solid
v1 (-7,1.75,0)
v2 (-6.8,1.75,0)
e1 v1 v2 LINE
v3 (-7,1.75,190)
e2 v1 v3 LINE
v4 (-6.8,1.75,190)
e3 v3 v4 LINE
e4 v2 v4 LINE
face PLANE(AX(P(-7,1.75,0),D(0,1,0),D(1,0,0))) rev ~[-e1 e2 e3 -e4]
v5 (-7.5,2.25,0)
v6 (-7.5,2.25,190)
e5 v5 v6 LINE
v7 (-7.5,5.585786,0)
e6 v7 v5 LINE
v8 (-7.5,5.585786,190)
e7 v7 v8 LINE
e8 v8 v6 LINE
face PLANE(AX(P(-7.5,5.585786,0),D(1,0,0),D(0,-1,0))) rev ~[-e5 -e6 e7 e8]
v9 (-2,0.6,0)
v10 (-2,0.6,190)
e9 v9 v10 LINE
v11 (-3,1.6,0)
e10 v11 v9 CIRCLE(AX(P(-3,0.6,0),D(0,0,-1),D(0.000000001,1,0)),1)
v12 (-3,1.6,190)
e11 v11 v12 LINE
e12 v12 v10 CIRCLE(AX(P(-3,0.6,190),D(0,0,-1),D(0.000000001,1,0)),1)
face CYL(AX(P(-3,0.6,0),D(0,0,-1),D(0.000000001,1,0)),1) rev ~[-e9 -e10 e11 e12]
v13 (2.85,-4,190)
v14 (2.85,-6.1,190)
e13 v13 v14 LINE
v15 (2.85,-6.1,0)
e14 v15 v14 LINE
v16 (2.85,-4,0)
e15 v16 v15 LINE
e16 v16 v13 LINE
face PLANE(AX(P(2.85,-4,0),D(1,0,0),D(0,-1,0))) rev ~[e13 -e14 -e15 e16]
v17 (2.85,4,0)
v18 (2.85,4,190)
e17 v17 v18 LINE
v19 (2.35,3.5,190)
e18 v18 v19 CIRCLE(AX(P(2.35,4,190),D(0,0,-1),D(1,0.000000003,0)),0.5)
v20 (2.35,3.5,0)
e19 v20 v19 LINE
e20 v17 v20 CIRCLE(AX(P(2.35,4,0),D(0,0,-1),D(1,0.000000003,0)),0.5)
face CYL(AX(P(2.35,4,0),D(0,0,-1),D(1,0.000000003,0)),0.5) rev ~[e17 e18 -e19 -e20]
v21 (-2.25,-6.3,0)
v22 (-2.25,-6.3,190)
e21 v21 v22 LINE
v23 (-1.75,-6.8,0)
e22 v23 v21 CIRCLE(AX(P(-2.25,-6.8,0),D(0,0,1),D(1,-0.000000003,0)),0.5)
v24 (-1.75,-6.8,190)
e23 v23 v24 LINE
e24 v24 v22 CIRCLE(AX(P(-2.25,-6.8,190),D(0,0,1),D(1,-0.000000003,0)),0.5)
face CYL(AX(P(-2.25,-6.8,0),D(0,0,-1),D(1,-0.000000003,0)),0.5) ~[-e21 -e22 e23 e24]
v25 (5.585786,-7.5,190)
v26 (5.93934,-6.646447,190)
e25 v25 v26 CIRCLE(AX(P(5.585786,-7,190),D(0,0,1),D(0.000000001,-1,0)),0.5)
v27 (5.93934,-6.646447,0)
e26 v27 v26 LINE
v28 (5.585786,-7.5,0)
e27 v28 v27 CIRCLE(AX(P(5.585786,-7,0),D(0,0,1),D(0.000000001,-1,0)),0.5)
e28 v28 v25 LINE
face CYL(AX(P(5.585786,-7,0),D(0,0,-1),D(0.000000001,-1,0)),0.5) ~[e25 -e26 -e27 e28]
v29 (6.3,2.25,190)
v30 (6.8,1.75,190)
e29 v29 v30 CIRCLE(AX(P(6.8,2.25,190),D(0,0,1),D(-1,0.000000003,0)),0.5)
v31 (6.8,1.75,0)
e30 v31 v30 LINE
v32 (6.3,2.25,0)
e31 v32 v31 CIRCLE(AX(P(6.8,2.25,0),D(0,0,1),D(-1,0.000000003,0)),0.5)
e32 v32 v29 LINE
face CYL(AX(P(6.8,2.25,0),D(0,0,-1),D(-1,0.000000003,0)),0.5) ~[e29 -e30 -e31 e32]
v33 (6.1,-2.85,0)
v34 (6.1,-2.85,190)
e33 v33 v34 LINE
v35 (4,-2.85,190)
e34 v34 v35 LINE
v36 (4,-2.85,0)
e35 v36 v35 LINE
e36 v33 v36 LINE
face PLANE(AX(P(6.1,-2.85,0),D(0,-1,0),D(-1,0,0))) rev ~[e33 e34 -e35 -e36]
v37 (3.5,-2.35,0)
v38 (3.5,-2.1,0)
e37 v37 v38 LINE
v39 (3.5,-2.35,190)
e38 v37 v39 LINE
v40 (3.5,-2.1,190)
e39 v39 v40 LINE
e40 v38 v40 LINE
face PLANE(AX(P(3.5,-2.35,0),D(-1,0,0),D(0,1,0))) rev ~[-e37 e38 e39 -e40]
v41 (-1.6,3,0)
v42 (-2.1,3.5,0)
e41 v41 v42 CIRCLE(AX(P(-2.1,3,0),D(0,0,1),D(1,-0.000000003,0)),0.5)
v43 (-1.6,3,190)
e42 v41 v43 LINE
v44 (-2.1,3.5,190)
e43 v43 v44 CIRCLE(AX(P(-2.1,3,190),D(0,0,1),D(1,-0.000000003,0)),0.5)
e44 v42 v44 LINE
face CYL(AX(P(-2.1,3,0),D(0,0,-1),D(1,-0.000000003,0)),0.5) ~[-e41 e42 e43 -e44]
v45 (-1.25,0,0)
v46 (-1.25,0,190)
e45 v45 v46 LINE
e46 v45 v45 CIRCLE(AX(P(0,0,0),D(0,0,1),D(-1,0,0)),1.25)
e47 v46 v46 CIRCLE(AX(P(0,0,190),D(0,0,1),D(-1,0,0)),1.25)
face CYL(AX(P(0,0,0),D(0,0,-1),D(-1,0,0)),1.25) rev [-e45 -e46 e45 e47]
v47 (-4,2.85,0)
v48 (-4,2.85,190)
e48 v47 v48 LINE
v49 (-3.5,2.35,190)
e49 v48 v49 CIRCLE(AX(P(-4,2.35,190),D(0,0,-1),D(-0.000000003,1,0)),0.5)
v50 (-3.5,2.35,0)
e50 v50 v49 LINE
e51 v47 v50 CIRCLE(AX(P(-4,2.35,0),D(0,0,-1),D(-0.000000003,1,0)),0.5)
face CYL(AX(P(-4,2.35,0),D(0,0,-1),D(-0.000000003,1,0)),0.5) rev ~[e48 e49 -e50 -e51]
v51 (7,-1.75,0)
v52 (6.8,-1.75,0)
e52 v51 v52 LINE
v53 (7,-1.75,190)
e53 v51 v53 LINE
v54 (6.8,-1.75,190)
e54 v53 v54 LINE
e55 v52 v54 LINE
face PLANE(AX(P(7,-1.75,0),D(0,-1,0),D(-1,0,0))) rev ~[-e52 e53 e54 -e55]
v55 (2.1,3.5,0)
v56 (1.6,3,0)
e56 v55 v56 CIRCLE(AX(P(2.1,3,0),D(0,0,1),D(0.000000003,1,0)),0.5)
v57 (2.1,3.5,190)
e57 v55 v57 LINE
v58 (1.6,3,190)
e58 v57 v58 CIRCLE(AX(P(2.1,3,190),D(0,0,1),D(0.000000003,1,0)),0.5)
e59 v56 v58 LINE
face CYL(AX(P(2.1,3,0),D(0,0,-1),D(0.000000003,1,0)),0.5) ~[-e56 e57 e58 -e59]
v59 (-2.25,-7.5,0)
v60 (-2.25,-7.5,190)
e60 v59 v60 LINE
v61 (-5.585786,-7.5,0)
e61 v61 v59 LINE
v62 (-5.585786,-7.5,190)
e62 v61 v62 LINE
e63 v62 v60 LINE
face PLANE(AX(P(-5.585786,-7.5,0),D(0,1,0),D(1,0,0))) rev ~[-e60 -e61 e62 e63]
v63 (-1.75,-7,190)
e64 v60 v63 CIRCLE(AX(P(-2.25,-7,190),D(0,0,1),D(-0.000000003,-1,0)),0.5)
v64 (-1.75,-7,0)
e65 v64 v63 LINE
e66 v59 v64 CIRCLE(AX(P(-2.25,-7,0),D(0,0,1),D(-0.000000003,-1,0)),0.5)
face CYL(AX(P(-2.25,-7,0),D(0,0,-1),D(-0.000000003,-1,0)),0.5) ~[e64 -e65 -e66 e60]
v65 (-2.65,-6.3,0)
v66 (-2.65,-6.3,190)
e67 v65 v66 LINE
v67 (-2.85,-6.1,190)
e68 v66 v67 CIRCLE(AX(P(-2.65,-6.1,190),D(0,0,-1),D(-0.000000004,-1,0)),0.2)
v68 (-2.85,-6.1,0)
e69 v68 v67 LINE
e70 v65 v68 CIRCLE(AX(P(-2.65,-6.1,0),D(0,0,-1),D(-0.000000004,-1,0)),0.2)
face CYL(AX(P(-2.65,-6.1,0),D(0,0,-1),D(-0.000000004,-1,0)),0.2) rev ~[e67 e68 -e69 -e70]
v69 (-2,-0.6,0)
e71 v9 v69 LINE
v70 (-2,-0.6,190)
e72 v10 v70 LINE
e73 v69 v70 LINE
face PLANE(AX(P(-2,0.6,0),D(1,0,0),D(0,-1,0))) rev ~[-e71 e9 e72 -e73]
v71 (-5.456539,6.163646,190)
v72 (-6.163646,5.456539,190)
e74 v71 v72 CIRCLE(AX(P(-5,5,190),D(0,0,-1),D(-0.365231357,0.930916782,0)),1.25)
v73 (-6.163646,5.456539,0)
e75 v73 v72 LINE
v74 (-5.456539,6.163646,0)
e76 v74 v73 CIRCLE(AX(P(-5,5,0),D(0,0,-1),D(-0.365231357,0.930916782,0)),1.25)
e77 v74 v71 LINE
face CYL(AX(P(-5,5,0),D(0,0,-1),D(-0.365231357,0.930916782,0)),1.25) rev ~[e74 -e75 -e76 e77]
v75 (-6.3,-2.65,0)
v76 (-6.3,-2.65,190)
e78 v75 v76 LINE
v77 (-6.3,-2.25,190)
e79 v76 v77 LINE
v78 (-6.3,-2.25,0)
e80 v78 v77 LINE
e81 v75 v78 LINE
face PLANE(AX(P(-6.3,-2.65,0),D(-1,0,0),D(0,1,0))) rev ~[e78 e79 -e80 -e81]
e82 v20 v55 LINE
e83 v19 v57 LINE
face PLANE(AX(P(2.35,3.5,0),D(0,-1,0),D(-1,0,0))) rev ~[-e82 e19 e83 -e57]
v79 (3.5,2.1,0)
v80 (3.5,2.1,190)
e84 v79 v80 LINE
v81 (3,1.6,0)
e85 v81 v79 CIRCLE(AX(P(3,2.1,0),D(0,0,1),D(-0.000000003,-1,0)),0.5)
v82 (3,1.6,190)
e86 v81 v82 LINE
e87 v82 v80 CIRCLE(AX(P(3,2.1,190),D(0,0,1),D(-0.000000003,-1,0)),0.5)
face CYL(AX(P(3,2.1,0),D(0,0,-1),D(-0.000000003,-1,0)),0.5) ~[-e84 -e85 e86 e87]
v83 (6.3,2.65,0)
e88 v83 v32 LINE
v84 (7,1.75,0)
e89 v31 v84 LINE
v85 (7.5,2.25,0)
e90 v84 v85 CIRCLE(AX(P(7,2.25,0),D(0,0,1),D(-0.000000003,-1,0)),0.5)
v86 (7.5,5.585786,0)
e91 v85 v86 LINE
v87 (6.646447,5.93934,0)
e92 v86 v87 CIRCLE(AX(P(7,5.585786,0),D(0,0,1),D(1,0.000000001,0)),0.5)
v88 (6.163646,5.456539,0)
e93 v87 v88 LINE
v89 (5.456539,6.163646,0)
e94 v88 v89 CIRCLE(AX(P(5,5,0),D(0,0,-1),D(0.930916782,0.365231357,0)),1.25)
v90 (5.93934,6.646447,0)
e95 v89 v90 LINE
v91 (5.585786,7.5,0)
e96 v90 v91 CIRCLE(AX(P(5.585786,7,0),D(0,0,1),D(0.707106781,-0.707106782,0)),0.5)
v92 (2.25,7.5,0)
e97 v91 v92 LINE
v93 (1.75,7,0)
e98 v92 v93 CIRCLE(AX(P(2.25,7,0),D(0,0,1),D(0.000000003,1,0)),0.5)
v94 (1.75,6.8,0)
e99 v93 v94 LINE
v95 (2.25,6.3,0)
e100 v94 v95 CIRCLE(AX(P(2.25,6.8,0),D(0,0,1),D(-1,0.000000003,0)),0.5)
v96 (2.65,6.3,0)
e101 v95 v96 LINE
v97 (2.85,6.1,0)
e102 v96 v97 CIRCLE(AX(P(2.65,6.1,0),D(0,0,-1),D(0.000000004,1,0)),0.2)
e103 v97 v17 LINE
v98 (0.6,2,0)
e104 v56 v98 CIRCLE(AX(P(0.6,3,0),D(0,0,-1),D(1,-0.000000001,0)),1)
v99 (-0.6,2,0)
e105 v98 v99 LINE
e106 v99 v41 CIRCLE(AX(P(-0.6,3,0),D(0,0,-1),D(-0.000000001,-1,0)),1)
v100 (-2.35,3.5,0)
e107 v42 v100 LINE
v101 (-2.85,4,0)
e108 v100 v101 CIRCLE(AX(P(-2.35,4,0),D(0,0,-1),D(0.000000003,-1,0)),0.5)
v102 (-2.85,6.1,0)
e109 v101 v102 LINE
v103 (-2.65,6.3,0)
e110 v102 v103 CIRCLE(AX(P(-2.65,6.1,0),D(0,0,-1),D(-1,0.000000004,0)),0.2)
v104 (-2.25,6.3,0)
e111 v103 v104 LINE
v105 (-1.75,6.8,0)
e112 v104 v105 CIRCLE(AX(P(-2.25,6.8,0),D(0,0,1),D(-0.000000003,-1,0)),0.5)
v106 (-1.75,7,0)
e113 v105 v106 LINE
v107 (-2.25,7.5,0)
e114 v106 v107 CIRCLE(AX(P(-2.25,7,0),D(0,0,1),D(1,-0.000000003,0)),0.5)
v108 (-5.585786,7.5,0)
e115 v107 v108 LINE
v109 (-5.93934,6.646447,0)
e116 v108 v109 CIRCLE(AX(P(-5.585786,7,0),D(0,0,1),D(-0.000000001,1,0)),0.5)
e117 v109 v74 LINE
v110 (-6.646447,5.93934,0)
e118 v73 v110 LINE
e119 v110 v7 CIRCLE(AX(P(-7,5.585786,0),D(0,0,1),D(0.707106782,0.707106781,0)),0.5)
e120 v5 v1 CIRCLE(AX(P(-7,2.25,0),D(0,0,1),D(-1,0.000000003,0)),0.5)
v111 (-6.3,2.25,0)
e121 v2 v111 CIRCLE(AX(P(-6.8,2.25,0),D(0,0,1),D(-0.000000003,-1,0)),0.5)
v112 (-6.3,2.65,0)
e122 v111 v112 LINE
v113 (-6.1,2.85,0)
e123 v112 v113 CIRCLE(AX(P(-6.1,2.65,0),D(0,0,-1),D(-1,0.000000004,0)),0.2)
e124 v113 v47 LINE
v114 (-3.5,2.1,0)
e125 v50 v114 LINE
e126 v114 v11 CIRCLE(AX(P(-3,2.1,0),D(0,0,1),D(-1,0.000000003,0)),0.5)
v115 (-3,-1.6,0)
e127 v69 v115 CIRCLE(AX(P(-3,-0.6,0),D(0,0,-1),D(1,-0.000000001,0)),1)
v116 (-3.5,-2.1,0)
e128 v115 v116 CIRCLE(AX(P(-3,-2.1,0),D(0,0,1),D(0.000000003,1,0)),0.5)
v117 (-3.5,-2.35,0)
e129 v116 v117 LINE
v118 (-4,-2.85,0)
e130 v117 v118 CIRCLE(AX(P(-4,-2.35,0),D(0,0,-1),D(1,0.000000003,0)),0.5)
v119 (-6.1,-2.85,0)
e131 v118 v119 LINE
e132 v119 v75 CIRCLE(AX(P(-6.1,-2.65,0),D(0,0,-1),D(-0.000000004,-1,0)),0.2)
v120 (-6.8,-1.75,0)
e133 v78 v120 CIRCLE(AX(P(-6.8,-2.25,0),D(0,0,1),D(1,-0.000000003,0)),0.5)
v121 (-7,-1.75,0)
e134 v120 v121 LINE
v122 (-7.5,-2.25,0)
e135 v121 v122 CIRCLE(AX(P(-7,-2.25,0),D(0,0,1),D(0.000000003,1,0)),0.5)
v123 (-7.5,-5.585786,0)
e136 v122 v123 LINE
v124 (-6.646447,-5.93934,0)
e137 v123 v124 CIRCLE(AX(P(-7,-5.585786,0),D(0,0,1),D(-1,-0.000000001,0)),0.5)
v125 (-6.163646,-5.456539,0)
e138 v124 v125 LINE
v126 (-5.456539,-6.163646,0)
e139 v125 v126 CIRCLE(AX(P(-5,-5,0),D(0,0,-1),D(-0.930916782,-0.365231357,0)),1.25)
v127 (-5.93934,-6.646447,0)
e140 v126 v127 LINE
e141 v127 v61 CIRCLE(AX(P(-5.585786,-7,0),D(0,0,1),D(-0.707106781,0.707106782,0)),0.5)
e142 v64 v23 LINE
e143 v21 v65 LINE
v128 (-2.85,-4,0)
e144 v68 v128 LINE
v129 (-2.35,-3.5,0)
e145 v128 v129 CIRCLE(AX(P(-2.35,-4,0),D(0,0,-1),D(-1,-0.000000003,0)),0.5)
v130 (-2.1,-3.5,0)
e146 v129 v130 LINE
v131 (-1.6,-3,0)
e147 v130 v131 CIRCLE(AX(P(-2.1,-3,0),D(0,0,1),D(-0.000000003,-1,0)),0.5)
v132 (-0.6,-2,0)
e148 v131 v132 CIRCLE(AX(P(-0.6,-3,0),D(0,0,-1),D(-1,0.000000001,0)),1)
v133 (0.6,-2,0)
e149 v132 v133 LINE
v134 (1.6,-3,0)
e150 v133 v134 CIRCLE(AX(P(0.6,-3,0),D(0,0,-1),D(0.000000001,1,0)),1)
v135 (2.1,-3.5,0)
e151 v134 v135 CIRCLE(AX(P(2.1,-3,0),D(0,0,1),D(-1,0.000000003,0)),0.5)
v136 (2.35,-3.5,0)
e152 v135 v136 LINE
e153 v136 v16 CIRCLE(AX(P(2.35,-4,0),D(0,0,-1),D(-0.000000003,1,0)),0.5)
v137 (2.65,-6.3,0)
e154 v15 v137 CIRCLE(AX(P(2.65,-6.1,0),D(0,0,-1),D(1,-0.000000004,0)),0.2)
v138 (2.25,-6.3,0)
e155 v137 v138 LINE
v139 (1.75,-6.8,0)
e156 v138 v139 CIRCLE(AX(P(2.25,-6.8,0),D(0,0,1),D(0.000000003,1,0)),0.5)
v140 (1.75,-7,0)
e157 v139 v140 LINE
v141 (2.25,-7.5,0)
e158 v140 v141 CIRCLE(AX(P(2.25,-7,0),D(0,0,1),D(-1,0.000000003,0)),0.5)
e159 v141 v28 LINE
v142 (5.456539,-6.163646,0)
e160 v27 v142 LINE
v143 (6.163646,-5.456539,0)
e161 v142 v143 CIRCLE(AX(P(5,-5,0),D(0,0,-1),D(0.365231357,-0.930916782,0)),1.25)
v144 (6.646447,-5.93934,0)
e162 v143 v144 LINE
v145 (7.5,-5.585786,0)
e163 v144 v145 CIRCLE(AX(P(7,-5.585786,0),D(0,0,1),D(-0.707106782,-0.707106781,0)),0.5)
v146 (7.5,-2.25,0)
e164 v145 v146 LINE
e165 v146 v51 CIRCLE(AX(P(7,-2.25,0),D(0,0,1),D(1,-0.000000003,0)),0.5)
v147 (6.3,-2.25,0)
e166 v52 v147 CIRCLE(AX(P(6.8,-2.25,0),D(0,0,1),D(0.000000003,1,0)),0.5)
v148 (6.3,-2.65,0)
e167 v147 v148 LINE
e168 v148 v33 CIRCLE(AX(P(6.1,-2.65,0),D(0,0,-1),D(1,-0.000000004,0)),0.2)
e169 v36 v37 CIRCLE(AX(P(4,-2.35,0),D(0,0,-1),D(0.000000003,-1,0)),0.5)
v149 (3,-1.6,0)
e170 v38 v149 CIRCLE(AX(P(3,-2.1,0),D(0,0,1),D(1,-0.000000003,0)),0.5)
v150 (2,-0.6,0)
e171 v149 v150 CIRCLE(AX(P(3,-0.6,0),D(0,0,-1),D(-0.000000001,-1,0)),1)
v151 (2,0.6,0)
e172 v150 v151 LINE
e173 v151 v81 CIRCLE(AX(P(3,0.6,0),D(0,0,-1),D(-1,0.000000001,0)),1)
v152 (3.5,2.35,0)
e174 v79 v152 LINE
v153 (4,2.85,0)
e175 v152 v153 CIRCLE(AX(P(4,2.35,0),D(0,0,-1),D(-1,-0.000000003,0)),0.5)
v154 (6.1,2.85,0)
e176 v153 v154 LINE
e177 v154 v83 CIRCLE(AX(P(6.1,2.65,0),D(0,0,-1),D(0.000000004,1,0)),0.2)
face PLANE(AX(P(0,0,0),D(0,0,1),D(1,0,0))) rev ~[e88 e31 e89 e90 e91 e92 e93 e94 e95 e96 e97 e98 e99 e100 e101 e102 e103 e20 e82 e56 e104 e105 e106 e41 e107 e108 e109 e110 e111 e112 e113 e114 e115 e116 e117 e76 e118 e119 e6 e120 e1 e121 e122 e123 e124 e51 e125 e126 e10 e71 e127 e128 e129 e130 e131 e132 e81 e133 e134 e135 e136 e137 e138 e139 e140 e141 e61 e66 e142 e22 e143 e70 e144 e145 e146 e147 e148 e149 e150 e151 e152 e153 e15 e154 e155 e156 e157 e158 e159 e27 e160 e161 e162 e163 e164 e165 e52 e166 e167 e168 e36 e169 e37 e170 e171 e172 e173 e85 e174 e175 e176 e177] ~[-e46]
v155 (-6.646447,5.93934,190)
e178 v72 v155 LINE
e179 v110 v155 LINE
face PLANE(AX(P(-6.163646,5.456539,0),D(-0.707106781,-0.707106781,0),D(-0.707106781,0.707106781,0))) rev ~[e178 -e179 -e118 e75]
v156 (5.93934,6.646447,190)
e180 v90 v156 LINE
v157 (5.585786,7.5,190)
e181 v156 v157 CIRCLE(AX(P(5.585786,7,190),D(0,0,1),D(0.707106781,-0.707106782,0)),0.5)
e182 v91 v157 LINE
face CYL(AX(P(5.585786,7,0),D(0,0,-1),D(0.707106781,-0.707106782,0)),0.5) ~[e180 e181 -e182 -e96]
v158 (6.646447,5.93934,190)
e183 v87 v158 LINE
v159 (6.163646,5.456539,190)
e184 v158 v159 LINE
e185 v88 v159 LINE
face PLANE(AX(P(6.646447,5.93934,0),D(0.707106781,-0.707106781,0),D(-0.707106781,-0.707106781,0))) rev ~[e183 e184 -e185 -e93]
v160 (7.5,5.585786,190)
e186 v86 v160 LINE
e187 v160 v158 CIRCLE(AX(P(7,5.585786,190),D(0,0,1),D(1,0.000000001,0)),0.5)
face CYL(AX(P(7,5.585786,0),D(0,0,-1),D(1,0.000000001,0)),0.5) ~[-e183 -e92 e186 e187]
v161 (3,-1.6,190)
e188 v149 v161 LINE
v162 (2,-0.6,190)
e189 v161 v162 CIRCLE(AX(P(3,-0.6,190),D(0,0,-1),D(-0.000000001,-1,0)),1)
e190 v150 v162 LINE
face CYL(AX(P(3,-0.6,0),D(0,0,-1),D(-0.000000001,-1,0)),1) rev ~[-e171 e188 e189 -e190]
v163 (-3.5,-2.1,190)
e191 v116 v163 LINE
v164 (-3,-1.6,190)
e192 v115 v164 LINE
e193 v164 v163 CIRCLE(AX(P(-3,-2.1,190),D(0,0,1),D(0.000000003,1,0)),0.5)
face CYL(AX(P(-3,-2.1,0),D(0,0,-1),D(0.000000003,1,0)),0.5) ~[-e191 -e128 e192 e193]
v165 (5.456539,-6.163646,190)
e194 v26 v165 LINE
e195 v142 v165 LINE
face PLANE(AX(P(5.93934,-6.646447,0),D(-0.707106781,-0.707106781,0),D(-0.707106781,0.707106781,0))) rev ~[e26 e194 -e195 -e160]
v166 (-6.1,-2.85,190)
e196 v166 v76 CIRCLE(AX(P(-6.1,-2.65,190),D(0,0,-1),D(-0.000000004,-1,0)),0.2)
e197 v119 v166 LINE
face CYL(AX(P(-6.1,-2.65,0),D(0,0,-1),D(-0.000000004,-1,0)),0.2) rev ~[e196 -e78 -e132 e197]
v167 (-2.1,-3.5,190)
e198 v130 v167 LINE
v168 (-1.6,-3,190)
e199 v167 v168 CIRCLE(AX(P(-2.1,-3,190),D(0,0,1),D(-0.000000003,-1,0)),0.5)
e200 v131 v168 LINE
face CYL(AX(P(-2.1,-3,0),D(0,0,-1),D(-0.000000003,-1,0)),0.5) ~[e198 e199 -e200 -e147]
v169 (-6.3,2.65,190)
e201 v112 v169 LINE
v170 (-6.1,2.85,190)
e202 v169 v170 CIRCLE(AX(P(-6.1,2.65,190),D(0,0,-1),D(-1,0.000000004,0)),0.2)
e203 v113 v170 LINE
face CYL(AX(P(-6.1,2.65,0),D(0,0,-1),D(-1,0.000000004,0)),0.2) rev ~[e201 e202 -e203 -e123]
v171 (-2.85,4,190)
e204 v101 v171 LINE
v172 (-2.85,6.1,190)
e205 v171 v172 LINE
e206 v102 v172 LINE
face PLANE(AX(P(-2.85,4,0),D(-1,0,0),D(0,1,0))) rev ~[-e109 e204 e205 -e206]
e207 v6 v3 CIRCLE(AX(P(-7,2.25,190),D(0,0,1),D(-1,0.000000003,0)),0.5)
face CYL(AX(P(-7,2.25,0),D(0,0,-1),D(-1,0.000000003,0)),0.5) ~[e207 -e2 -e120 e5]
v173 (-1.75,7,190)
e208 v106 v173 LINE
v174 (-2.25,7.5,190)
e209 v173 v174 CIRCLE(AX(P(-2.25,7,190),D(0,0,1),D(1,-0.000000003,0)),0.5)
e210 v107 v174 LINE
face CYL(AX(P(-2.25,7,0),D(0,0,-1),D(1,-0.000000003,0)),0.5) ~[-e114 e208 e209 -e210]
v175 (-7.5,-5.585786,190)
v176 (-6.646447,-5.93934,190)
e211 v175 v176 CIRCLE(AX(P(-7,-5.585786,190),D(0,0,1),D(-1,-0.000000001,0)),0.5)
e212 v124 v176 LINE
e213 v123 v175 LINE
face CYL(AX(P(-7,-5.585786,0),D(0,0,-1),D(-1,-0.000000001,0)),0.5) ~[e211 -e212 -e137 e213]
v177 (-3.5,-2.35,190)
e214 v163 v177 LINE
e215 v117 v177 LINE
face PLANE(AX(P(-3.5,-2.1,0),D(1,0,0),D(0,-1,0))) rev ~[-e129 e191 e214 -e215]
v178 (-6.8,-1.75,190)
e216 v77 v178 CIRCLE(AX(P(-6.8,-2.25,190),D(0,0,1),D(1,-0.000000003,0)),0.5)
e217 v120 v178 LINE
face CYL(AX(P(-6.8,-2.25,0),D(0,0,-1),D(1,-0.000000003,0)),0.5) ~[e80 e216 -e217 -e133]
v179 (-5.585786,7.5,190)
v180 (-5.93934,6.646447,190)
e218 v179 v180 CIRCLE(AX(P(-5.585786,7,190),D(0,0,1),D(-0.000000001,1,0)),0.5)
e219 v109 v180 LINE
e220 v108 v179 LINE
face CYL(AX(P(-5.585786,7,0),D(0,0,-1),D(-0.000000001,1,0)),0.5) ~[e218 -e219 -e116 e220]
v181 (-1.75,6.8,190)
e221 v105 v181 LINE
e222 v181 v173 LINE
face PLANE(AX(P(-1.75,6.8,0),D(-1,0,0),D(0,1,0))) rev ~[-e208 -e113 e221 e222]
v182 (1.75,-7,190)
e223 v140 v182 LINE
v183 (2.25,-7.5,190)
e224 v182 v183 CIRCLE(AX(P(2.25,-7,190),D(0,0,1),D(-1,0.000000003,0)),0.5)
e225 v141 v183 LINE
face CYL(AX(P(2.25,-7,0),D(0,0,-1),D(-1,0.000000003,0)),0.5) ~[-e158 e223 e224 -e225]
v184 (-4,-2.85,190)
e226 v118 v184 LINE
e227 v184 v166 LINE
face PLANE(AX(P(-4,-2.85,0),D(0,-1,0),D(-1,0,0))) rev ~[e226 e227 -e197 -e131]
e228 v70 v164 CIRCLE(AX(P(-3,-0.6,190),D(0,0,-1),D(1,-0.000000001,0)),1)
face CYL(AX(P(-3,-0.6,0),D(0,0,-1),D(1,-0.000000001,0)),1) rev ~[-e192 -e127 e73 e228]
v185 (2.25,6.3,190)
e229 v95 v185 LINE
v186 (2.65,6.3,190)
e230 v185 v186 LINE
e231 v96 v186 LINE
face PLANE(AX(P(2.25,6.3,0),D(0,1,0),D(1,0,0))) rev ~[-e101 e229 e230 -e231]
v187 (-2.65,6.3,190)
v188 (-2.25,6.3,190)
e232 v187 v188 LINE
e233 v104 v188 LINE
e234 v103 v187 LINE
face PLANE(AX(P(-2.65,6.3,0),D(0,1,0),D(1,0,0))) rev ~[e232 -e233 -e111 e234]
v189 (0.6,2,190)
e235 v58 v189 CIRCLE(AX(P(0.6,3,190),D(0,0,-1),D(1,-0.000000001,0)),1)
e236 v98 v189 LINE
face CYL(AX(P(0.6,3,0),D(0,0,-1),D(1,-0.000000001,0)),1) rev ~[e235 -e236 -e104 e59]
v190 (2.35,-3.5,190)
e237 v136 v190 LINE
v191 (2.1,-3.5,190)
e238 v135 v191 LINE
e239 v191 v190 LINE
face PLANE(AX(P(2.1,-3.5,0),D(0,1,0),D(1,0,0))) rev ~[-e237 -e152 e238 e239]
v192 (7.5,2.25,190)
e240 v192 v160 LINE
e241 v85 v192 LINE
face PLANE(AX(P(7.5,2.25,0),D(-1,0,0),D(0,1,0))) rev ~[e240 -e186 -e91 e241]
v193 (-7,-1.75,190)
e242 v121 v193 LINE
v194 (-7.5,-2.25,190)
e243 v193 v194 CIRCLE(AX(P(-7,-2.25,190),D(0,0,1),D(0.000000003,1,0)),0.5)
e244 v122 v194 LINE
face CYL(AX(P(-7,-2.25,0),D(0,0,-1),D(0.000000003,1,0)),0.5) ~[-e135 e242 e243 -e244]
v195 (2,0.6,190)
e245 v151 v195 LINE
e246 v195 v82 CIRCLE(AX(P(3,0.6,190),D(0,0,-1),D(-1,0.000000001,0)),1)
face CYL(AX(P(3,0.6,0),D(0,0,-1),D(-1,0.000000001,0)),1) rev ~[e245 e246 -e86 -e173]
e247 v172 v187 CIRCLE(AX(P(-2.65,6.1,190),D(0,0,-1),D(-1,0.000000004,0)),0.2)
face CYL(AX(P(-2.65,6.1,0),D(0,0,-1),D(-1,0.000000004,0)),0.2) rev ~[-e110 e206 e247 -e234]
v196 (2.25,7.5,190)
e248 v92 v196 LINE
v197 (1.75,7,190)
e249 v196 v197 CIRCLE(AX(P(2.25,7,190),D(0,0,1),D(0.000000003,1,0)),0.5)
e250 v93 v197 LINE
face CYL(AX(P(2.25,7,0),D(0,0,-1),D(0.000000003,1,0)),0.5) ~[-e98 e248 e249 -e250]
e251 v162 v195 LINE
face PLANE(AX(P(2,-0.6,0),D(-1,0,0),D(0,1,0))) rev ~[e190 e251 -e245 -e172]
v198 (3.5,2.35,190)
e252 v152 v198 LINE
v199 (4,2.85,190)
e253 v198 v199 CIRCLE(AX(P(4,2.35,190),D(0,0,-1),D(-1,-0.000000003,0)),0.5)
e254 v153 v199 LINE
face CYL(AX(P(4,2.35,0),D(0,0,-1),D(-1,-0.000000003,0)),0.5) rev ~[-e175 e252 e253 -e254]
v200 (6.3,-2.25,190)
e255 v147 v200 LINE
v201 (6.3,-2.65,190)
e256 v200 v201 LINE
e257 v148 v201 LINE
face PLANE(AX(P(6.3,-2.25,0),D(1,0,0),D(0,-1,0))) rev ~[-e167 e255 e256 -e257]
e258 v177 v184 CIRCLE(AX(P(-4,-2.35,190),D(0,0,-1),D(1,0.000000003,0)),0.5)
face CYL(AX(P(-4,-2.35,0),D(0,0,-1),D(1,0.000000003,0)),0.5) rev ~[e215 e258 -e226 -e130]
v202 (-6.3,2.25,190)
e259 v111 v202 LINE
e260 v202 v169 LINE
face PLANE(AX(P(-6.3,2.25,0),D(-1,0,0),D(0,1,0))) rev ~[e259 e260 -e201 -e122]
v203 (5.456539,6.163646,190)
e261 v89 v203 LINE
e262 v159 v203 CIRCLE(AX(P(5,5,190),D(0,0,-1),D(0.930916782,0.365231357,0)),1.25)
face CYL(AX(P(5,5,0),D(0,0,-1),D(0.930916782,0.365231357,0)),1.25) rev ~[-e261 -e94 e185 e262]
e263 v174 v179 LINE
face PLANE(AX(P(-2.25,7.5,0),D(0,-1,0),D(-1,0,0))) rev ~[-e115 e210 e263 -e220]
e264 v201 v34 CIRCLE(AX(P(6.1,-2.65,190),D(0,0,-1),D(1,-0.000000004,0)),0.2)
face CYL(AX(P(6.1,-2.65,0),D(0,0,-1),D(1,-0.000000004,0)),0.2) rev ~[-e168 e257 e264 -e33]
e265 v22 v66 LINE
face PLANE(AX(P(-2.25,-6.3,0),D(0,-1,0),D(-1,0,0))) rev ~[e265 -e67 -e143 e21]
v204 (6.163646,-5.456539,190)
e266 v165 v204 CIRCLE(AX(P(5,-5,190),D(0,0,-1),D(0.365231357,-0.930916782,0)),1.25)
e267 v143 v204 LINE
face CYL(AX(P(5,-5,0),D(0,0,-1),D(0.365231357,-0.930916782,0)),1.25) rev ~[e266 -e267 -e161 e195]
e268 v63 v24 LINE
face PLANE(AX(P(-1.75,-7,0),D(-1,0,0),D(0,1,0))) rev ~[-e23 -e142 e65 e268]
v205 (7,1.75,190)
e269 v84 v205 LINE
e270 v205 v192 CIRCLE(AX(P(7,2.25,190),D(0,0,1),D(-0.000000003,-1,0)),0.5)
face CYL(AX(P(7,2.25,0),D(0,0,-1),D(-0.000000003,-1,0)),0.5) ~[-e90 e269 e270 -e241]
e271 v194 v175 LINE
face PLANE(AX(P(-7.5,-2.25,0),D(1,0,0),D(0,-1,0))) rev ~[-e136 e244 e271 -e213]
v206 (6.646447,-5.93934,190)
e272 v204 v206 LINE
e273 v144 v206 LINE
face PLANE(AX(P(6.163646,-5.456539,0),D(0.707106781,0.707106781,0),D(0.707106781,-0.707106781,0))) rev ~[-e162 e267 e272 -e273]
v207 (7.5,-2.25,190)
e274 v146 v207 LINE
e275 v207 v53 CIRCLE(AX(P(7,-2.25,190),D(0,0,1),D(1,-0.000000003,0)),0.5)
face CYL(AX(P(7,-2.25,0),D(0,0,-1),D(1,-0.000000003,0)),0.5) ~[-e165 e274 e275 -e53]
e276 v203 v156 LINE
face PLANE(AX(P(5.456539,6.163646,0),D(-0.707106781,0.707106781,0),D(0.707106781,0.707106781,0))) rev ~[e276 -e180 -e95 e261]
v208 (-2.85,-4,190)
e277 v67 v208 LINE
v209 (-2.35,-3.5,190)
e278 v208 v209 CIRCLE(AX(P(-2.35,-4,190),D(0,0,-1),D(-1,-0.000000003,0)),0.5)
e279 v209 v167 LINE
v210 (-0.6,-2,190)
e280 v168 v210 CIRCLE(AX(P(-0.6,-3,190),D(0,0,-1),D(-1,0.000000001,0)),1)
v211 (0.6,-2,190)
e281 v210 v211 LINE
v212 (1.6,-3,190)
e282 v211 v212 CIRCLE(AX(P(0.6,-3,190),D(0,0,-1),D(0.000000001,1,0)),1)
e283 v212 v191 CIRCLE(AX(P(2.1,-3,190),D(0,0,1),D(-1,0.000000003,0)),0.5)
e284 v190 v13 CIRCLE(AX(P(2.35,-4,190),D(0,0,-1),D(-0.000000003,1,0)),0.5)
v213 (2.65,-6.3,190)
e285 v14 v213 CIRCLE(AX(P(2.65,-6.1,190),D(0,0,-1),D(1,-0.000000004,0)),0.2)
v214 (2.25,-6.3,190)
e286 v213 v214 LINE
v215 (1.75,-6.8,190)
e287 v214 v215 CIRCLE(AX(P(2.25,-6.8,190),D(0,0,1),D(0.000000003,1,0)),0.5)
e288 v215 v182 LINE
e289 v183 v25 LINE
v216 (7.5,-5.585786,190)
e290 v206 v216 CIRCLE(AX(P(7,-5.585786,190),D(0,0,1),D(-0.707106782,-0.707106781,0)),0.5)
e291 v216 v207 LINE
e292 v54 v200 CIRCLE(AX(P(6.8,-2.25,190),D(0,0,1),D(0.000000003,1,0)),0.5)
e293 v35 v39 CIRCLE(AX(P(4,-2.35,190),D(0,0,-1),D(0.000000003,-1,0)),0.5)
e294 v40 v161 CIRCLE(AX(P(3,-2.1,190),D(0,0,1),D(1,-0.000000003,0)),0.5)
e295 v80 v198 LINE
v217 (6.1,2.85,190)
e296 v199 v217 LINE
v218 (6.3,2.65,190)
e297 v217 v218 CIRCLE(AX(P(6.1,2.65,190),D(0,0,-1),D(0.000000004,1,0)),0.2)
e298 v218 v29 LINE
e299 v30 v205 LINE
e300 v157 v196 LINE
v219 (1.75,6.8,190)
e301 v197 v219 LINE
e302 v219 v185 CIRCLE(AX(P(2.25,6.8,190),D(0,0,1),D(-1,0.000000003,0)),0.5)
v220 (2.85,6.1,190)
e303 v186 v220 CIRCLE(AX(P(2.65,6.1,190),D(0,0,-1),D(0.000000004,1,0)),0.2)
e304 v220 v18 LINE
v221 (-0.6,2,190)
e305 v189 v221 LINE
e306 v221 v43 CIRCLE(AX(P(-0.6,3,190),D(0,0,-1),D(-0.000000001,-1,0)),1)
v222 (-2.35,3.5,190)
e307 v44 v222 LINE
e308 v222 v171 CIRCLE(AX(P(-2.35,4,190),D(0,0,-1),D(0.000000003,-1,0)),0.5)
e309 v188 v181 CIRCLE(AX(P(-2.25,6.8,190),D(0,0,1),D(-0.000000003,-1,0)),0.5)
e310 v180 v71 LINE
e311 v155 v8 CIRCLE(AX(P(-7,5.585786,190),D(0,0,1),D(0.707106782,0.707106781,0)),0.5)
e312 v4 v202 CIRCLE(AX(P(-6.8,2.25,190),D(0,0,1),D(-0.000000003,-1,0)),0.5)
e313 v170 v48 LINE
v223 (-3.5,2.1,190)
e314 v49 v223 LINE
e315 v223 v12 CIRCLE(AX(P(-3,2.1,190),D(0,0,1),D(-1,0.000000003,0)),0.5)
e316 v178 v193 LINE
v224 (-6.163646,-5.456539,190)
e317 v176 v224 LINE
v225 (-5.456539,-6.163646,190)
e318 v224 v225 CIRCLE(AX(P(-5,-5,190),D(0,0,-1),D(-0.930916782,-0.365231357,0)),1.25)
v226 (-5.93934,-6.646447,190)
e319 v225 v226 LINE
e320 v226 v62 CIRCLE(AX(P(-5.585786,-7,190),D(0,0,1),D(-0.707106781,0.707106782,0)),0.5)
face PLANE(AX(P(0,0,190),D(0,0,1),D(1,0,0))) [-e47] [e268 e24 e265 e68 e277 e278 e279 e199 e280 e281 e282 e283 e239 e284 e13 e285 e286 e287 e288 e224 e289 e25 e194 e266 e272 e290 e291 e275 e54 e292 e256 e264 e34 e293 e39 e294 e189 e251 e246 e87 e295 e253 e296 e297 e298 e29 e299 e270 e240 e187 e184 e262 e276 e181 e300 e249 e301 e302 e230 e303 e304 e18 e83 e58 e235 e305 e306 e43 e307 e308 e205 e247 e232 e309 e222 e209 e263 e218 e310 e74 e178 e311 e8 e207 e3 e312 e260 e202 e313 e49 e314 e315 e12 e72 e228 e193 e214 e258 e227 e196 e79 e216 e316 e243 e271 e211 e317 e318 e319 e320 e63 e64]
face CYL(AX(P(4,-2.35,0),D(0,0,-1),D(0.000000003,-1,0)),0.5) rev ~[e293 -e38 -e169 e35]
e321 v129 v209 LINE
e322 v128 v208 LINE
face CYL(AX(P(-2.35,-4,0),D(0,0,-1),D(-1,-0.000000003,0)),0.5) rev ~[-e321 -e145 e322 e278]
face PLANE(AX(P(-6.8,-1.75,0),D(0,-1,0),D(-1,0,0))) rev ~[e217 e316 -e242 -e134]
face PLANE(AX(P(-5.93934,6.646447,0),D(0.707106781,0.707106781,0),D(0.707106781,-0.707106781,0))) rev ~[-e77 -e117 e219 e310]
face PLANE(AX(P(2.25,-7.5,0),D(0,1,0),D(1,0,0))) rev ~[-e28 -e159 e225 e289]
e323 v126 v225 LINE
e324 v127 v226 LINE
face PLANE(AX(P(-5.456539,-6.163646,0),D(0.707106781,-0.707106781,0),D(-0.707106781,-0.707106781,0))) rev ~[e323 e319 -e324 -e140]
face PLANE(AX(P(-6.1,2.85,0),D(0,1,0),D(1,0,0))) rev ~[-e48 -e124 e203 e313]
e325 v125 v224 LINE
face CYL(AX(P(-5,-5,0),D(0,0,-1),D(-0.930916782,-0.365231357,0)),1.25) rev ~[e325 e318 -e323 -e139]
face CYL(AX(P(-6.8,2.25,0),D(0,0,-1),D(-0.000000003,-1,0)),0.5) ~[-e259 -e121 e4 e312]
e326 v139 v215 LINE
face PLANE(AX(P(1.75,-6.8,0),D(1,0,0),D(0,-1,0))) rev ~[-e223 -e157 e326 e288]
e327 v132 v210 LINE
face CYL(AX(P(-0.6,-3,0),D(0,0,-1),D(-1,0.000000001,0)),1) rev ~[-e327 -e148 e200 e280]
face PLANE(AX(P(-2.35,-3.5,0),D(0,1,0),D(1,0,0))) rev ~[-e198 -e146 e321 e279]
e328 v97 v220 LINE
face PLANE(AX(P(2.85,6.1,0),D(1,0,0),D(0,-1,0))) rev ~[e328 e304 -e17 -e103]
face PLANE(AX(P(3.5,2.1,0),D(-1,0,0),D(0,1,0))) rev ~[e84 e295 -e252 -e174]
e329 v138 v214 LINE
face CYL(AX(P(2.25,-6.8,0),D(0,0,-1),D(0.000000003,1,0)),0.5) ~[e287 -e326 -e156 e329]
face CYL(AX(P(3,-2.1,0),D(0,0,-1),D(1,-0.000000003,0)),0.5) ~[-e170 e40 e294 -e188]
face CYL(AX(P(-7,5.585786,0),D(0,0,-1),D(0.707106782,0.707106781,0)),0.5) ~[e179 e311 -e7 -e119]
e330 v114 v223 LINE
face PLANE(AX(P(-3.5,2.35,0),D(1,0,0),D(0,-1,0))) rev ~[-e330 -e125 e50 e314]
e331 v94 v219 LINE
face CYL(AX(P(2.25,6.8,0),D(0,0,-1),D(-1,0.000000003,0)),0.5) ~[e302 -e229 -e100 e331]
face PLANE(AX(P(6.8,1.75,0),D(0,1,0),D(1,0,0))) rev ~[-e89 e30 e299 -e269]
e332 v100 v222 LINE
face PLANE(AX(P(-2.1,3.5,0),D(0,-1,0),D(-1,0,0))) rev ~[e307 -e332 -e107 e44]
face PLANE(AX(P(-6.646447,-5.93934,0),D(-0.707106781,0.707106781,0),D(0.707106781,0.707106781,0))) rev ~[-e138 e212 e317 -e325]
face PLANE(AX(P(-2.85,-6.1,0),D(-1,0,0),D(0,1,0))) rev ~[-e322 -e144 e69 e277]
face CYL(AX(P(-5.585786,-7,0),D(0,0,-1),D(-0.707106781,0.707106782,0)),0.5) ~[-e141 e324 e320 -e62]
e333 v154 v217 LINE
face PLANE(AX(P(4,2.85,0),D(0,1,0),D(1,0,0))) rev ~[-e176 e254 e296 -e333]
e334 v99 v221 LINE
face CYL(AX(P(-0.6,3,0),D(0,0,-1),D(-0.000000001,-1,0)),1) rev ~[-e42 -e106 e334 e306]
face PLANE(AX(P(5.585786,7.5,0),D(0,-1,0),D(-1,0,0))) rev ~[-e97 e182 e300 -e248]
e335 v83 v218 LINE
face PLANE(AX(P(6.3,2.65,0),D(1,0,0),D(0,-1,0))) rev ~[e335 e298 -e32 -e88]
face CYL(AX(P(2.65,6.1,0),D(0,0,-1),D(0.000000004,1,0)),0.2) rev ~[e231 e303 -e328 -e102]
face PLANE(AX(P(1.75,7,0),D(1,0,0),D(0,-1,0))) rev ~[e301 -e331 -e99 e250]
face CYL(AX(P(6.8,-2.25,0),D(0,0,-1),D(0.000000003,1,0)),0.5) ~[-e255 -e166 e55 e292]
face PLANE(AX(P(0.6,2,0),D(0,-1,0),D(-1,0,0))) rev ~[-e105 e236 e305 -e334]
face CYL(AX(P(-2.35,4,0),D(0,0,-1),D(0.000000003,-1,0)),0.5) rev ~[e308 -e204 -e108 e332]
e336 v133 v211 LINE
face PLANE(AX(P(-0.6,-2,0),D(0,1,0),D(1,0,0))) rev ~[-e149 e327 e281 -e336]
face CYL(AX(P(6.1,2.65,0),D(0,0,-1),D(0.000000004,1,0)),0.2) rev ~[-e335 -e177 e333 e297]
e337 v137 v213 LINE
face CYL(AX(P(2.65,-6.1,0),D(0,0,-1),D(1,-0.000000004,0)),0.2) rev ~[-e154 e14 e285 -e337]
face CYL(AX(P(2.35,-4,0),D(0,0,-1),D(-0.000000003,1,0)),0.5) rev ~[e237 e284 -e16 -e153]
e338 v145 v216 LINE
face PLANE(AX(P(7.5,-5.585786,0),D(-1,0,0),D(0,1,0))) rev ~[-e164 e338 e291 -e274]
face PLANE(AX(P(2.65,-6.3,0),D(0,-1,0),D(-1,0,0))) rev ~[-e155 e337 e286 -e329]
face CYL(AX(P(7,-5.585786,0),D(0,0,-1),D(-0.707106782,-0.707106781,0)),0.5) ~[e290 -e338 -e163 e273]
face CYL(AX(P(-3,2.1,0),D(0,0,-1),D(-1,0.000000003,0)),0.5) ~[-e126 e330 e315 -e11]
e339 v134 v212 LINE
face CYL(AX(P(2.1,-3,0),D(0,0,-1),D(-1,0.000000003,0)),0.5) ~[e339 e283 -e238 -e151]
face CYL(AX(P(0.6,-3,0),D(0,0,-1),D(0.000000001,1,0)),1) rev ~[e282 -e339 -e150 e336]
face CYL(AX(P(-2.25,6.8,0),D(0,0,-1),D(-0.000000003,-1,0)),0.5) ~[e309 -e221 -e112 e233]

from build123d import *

# Parameters (mm, degrees)
SKETCH1_R           = 1.25
BOSS_EXTRUDE1_DEPTH = 190


with BuildPart() as part:
    # Sketch1 → Boss-Extrude1 (new body)
    with BuildSketch(Plane.XY):
        with BuildLine():
            Line((6.646446609, 5.939339828), (6.163645978, 5.456539197))
            ThreePointArc((6.163645978, 5.456539197), (4.116116524, 4.116116524), (5.456539197, 6.163645978))
            Line((5.456539197, 6.163645978), (5.939339828, 6.646446609))
            ThreePointArc((5.939339828, 6.646446609), (6.047726204, 7.191341716), (5.585786438, 7.5))
            Line((5.585786438, 7.5), (2.25, 7.5))
            ThreePointArc((2.25, 7.5), (1.896446609, 7.353553391), (1.75, 7))
            Line((1.75, 7), (1.75, 6.8))
            ThreePointArc((1.75, 6.8), (1.896446609, 6.446446609), (2.25, 6.3))
            Line((2.25, 6.3), (2.65, 6.3))
            ThreePointArc((2.65, 6.3), (2.791421356, 6.241421356), (2.85, 6.1))
            Line((2.85, 6.1), (2.85, 4))
            ThreePointArc((2.85, 4), (2.703553391, 3.646446609), (2.35, 3.5))
            Line((2.35, 3.5), (2.1, 3.5))
            ThreePointArc((2.1, 3.5), (1.746446609, 3.353553391), (1.6, 3))
            ThreePointArc((1.6, 3), (1.307106781, 2.292893219), (0.6, 2))
            Line((0.6, 2), (-0.6, 2))
            ThreePointArc((-0.6, 2), (-1.307106781, 2.292893219), (-1.6, 3))
            ThreePointArc((-1.6, 3), (-1.746446609, 3.353553391), (-2.1, 3.5))
            Line((-2.1, 3.5), (-2.35, 3.5))
            ThreePointArc((-2.35, 3.5), (-2.703553391, 3.646446609), (-2.85, 4))
            Line((-2.85, 4), (-2.85, 6.1))
            ThreePointArc((-2.85, 6.1), (-2.791421356, 6.241421356), (-2.65, 6.3))
            Line((-2.65, 6.3), (-2.25, 6.3))
            ThreePointArc((-2.25, 6.3), (-1.896446609, 6.446446609), (-1.75, 6.8))
            Line((-1.75, 6.8), (-1.75, 7))
            ThreePointArc((-1.75, 7), (-1.896446609, 7.353553391), (-2.25, 7.5))
            Line((-2.25, 7.5), (-5.585786438, 7.5))
            ThreePointArc((-5.585786438, 7.5), (-6.047726204, 7.191341716), (-5.939339828, 6.646446609))
            Line((-5.939339828, 6.646446609), (-5.456539197, 6.163645978))
            ThreePointArc((-5.456539197, 6.163645978), (-4.116116524, 4.116116524), (-6.163645978, 5.456539197))
            Line((-6.163645978, 5.456539197), (-6.646446609, 5.939339828))
            ThreePointArc((-6.646446609, 5.939339828), (-7.191341716, 6.047726204), (-7.5, 5.585786438))
            Line((-7.5, 5.585786438), (-7.5, 2.25))
            ThreePointArc((-7.5, 2.25), (-7.353553391, 1.896446609), (-7, 1.75))
            Line((-7, 1.75), (-6.8, 1.75))
            ThreePointArc((-6.8, 1.75), (-6.446446609, 1.896446609), (-6.3, 2.25))
            Line((-6.3, 2.25), (-6.3, 2.65))
            ThreePointArc((-6.3, 2.65), (-6.241421356, 2.791421356), (-6.1, 2.85))
            Line((-6.1, 2.85), (-4, 2.85))
            ThreePointArc((-4, 2.85), (-3.646446609, 2.703553391), (-3.5, 2.35))
            Line((-3.5, 2.35), (-3.5, 2.1))
            ThreePointArc((-3.5, 2.1), (-3.353553391, 1.746446609), (-3, 1.6))
            ThreePointArc((-3, 1.6), (-2.292893219, 1.307106781), (-2, 0.6))
            Line((-2, 0.6), (-2, -0.6))
            ThreePointArc((-2, -0.6), (-2.292893219, -1.307106781), (-3, -1.6))
            ThreePointArc((-3, -1.6), (-3.353553391, -1.746446609), (-3.5, -2.1))
            Line((-3.5, -2.1), (-3.5, -2.35))
            ThreePointArc((-3.5, -2.35), (-3.646446609, -2.703553391), (-4, -2.85))
            Line((-4, -2.85), (-6.1, -2.85))
            ThreePointArc((-6.1, -2.85), (-6.241421356, -2.791421356), (-6.3, -2.65))
            Line((-6.3, -2.65), (-6.3, -2.25))
            ThreePointArc((-6.3, -2.25), (-6.446446609, -1.896446609), (-6.8, -1.75))
            Line((-6.8, -1.75), (-7, -1.75))
            ThreePointArc((-7, -1.75), (-7.353553391, -1.896446609), (-7.5, -2.25))
            Line((-7.5, -2.25), (-7.5, -5.585786438))
            ThreePointArc((-7.5, -5.585786438), (-7.191341716, -6.047726204), (-6.646446609, -5.939339828))
            Line((-6.646446609, -5.939339828), (-6.163645978, -5.456539197))
            ThreePointArc((-6.163645978, -5.456539197), (-4.116116524, -4.116116524), (-5.456539197, -6.163645978))
            Line((-5.456539197, -6.163645978), (-5.939339828, -6.646446609))
            ThreePointArc((-5.939339828, -6.646446609), (-6.047726204, -7.191341716), (-5.585786438, -7.5))
            Line((-5.585786438, -7.5), (-2.25, -7.5))
            ThreePointArc((-2.25, -7.5), (-1.896446609, -7.353553391), (-1.75, -7))
            Line((-1.75, -7), (-1.75, -6.8))
            ThreePointArc((-1.75, -6.8), (-1.896446609, -6.446446609), (-2.25, -6.3))
            Line((-2.25, -6.3), (-2.65, -6.3))
            ThreePointArc((-2.65, -6.3), (-2.791421356, -6.241421356), (-2.85, -6.1))
            Line((-2.85, -6.1), (-2.85, -4))
            ThreePointArc((-2.85, -4), (-2.703553391, -3.646446609), (-2.35, -3.5))
            Line((-2.35, -3.5), (-2.1, -3.5))
            ThreePointArc((-2.1, -3.5), (-1.746446609, -3.353553391), (-1.6, -3))
            ThreePointArc((-1.6, -3), (-1.307106781, -2.292893219), (-0.6, -2))
            Line((-0.6, -2), (0.6, -2))
            ThreePointArc((0.6, -2), (1.307106781, -2.292893219), (1.6, -3))
            ThreePointArc((1.6, -3), (1.746446609, -3.353553391), (2.1, -3.5))
            Line((2.1, -3.5), (2.35, -3.5))
            ThreePointArc((2.35, -3.5), (2.703553391, -3.646446609), (2.85, -4))
            Line((2.85, -4), (2.85, -6.1))
            ThreePointArc((2.85, -6.1), (2.791421356, -6.241421356), (2.65, -6.3))
            Line((2.65, -6.3), (2.25, -6.3))
            ThreePointArc((2.25, -6.3), (1.896446609, -6.446446609), (1.75, -6.8))
            Line((1.75, -6.8), (1.75, -7))
            ThreePointArc((1.75, -7), (1.896446609, -7.353553391), (2.25, -7.5))
            Line((2.25, -7.5), (5.585786438, -7.5))
            ThreePointArc((5.585786438, -7.5), (6.047726204, -7.191341716), (5.939339828, -6.646446609))
            Line((5.939339828, -6.646446609), (5.456539197, -6.163645978))
            ThreePointArc((5.456539197, -6.163645978), (4.116116524, -4.116116524), (6.163645978, -5.456539197))
            Line((6.163645978, -5.456539197), (6.646446609, -5.939339828))
            ThreePointArc((6.646446609, -5.939339828), (7.191341716, -6.047726204), (7.5, -5.585786438))
            Line((7.5, -5.585786438), (7.5, -2.25))
            ThreePointArc((7.5, -2.25), (7.353553391, -1.896446609), (7, -1.75))
            Line((7, -1.75), (6.8, -1.75))
            ThreePointArc((6.8, -1.75), (6.446446609, -1.896446609), (6.3, -2.25))
            Line((6.3, -2.25), (6.3, -2.65))
            ThreePointArc((6.3, -2.65), (6.241421356, -2.791421356), (6.1, -2.85))
            Line((6.1, -2.85), (4, -2.85))
            ThreePointArc((4, -2.85), (3.646446609, -2.703553391), (3.5, -2.35))
            Line((3.5, -2.35), (3.5, -2.1))
            ThreePointArc((3.5, -2.1), (3.353553391, -1.746446609), (3, -1.6))
            ThreePointArc((3, -1.6), (2.292893219, -1.307106781), (2, -0.6))
            Line((2, -0.6), (2, 0.6))
            ThreePointArc((2, 0.6), (2.292893219, 1.307106781), (3, 1.6))
            ThreePointArc((3, 1.6), (3.353553391, 1.746446609), (3.5, 2.1))
            Line((3.5, 2.1), (3.5, 2.35))
            ThreePointArc((3.5, 2.35), (3.646446609, 2.703553391), (4, 2.85))
            Line((4, 2.85), (6.1, 2.85))
            ThreePointArc((6.1, 2.85), (6.241421356, 2.791421356), (6.3, 2.65))
            Line((6.3, 2.65), (6.3, 2.25))
            ThreePointArc((6.3, 2.25), (6.446446609, 1.896446609), (6.8, 1.75))
            Line((6.8, 1.75), (7, 1.75))
            ThreePointArc((7, 1.75), (7.353553391, 1.896446609), (7.5, 2.25))
            Line((7.5, 2.25), (7.5, 5.585786438))
            ThreePointArc((7.5, 5.585786438), (7.191341716, 6.047726204), (6.646446609, 5.939339828))
        make_face()
        with Locations(Location((0, 0, 0), (0, 0, 180))):
            Circle(SKETCH1_R, mode=Mode.SUBTRACT)
    extrude(amount=BOSS_EXTRUDE1_DEPTH)


solid = part.part
